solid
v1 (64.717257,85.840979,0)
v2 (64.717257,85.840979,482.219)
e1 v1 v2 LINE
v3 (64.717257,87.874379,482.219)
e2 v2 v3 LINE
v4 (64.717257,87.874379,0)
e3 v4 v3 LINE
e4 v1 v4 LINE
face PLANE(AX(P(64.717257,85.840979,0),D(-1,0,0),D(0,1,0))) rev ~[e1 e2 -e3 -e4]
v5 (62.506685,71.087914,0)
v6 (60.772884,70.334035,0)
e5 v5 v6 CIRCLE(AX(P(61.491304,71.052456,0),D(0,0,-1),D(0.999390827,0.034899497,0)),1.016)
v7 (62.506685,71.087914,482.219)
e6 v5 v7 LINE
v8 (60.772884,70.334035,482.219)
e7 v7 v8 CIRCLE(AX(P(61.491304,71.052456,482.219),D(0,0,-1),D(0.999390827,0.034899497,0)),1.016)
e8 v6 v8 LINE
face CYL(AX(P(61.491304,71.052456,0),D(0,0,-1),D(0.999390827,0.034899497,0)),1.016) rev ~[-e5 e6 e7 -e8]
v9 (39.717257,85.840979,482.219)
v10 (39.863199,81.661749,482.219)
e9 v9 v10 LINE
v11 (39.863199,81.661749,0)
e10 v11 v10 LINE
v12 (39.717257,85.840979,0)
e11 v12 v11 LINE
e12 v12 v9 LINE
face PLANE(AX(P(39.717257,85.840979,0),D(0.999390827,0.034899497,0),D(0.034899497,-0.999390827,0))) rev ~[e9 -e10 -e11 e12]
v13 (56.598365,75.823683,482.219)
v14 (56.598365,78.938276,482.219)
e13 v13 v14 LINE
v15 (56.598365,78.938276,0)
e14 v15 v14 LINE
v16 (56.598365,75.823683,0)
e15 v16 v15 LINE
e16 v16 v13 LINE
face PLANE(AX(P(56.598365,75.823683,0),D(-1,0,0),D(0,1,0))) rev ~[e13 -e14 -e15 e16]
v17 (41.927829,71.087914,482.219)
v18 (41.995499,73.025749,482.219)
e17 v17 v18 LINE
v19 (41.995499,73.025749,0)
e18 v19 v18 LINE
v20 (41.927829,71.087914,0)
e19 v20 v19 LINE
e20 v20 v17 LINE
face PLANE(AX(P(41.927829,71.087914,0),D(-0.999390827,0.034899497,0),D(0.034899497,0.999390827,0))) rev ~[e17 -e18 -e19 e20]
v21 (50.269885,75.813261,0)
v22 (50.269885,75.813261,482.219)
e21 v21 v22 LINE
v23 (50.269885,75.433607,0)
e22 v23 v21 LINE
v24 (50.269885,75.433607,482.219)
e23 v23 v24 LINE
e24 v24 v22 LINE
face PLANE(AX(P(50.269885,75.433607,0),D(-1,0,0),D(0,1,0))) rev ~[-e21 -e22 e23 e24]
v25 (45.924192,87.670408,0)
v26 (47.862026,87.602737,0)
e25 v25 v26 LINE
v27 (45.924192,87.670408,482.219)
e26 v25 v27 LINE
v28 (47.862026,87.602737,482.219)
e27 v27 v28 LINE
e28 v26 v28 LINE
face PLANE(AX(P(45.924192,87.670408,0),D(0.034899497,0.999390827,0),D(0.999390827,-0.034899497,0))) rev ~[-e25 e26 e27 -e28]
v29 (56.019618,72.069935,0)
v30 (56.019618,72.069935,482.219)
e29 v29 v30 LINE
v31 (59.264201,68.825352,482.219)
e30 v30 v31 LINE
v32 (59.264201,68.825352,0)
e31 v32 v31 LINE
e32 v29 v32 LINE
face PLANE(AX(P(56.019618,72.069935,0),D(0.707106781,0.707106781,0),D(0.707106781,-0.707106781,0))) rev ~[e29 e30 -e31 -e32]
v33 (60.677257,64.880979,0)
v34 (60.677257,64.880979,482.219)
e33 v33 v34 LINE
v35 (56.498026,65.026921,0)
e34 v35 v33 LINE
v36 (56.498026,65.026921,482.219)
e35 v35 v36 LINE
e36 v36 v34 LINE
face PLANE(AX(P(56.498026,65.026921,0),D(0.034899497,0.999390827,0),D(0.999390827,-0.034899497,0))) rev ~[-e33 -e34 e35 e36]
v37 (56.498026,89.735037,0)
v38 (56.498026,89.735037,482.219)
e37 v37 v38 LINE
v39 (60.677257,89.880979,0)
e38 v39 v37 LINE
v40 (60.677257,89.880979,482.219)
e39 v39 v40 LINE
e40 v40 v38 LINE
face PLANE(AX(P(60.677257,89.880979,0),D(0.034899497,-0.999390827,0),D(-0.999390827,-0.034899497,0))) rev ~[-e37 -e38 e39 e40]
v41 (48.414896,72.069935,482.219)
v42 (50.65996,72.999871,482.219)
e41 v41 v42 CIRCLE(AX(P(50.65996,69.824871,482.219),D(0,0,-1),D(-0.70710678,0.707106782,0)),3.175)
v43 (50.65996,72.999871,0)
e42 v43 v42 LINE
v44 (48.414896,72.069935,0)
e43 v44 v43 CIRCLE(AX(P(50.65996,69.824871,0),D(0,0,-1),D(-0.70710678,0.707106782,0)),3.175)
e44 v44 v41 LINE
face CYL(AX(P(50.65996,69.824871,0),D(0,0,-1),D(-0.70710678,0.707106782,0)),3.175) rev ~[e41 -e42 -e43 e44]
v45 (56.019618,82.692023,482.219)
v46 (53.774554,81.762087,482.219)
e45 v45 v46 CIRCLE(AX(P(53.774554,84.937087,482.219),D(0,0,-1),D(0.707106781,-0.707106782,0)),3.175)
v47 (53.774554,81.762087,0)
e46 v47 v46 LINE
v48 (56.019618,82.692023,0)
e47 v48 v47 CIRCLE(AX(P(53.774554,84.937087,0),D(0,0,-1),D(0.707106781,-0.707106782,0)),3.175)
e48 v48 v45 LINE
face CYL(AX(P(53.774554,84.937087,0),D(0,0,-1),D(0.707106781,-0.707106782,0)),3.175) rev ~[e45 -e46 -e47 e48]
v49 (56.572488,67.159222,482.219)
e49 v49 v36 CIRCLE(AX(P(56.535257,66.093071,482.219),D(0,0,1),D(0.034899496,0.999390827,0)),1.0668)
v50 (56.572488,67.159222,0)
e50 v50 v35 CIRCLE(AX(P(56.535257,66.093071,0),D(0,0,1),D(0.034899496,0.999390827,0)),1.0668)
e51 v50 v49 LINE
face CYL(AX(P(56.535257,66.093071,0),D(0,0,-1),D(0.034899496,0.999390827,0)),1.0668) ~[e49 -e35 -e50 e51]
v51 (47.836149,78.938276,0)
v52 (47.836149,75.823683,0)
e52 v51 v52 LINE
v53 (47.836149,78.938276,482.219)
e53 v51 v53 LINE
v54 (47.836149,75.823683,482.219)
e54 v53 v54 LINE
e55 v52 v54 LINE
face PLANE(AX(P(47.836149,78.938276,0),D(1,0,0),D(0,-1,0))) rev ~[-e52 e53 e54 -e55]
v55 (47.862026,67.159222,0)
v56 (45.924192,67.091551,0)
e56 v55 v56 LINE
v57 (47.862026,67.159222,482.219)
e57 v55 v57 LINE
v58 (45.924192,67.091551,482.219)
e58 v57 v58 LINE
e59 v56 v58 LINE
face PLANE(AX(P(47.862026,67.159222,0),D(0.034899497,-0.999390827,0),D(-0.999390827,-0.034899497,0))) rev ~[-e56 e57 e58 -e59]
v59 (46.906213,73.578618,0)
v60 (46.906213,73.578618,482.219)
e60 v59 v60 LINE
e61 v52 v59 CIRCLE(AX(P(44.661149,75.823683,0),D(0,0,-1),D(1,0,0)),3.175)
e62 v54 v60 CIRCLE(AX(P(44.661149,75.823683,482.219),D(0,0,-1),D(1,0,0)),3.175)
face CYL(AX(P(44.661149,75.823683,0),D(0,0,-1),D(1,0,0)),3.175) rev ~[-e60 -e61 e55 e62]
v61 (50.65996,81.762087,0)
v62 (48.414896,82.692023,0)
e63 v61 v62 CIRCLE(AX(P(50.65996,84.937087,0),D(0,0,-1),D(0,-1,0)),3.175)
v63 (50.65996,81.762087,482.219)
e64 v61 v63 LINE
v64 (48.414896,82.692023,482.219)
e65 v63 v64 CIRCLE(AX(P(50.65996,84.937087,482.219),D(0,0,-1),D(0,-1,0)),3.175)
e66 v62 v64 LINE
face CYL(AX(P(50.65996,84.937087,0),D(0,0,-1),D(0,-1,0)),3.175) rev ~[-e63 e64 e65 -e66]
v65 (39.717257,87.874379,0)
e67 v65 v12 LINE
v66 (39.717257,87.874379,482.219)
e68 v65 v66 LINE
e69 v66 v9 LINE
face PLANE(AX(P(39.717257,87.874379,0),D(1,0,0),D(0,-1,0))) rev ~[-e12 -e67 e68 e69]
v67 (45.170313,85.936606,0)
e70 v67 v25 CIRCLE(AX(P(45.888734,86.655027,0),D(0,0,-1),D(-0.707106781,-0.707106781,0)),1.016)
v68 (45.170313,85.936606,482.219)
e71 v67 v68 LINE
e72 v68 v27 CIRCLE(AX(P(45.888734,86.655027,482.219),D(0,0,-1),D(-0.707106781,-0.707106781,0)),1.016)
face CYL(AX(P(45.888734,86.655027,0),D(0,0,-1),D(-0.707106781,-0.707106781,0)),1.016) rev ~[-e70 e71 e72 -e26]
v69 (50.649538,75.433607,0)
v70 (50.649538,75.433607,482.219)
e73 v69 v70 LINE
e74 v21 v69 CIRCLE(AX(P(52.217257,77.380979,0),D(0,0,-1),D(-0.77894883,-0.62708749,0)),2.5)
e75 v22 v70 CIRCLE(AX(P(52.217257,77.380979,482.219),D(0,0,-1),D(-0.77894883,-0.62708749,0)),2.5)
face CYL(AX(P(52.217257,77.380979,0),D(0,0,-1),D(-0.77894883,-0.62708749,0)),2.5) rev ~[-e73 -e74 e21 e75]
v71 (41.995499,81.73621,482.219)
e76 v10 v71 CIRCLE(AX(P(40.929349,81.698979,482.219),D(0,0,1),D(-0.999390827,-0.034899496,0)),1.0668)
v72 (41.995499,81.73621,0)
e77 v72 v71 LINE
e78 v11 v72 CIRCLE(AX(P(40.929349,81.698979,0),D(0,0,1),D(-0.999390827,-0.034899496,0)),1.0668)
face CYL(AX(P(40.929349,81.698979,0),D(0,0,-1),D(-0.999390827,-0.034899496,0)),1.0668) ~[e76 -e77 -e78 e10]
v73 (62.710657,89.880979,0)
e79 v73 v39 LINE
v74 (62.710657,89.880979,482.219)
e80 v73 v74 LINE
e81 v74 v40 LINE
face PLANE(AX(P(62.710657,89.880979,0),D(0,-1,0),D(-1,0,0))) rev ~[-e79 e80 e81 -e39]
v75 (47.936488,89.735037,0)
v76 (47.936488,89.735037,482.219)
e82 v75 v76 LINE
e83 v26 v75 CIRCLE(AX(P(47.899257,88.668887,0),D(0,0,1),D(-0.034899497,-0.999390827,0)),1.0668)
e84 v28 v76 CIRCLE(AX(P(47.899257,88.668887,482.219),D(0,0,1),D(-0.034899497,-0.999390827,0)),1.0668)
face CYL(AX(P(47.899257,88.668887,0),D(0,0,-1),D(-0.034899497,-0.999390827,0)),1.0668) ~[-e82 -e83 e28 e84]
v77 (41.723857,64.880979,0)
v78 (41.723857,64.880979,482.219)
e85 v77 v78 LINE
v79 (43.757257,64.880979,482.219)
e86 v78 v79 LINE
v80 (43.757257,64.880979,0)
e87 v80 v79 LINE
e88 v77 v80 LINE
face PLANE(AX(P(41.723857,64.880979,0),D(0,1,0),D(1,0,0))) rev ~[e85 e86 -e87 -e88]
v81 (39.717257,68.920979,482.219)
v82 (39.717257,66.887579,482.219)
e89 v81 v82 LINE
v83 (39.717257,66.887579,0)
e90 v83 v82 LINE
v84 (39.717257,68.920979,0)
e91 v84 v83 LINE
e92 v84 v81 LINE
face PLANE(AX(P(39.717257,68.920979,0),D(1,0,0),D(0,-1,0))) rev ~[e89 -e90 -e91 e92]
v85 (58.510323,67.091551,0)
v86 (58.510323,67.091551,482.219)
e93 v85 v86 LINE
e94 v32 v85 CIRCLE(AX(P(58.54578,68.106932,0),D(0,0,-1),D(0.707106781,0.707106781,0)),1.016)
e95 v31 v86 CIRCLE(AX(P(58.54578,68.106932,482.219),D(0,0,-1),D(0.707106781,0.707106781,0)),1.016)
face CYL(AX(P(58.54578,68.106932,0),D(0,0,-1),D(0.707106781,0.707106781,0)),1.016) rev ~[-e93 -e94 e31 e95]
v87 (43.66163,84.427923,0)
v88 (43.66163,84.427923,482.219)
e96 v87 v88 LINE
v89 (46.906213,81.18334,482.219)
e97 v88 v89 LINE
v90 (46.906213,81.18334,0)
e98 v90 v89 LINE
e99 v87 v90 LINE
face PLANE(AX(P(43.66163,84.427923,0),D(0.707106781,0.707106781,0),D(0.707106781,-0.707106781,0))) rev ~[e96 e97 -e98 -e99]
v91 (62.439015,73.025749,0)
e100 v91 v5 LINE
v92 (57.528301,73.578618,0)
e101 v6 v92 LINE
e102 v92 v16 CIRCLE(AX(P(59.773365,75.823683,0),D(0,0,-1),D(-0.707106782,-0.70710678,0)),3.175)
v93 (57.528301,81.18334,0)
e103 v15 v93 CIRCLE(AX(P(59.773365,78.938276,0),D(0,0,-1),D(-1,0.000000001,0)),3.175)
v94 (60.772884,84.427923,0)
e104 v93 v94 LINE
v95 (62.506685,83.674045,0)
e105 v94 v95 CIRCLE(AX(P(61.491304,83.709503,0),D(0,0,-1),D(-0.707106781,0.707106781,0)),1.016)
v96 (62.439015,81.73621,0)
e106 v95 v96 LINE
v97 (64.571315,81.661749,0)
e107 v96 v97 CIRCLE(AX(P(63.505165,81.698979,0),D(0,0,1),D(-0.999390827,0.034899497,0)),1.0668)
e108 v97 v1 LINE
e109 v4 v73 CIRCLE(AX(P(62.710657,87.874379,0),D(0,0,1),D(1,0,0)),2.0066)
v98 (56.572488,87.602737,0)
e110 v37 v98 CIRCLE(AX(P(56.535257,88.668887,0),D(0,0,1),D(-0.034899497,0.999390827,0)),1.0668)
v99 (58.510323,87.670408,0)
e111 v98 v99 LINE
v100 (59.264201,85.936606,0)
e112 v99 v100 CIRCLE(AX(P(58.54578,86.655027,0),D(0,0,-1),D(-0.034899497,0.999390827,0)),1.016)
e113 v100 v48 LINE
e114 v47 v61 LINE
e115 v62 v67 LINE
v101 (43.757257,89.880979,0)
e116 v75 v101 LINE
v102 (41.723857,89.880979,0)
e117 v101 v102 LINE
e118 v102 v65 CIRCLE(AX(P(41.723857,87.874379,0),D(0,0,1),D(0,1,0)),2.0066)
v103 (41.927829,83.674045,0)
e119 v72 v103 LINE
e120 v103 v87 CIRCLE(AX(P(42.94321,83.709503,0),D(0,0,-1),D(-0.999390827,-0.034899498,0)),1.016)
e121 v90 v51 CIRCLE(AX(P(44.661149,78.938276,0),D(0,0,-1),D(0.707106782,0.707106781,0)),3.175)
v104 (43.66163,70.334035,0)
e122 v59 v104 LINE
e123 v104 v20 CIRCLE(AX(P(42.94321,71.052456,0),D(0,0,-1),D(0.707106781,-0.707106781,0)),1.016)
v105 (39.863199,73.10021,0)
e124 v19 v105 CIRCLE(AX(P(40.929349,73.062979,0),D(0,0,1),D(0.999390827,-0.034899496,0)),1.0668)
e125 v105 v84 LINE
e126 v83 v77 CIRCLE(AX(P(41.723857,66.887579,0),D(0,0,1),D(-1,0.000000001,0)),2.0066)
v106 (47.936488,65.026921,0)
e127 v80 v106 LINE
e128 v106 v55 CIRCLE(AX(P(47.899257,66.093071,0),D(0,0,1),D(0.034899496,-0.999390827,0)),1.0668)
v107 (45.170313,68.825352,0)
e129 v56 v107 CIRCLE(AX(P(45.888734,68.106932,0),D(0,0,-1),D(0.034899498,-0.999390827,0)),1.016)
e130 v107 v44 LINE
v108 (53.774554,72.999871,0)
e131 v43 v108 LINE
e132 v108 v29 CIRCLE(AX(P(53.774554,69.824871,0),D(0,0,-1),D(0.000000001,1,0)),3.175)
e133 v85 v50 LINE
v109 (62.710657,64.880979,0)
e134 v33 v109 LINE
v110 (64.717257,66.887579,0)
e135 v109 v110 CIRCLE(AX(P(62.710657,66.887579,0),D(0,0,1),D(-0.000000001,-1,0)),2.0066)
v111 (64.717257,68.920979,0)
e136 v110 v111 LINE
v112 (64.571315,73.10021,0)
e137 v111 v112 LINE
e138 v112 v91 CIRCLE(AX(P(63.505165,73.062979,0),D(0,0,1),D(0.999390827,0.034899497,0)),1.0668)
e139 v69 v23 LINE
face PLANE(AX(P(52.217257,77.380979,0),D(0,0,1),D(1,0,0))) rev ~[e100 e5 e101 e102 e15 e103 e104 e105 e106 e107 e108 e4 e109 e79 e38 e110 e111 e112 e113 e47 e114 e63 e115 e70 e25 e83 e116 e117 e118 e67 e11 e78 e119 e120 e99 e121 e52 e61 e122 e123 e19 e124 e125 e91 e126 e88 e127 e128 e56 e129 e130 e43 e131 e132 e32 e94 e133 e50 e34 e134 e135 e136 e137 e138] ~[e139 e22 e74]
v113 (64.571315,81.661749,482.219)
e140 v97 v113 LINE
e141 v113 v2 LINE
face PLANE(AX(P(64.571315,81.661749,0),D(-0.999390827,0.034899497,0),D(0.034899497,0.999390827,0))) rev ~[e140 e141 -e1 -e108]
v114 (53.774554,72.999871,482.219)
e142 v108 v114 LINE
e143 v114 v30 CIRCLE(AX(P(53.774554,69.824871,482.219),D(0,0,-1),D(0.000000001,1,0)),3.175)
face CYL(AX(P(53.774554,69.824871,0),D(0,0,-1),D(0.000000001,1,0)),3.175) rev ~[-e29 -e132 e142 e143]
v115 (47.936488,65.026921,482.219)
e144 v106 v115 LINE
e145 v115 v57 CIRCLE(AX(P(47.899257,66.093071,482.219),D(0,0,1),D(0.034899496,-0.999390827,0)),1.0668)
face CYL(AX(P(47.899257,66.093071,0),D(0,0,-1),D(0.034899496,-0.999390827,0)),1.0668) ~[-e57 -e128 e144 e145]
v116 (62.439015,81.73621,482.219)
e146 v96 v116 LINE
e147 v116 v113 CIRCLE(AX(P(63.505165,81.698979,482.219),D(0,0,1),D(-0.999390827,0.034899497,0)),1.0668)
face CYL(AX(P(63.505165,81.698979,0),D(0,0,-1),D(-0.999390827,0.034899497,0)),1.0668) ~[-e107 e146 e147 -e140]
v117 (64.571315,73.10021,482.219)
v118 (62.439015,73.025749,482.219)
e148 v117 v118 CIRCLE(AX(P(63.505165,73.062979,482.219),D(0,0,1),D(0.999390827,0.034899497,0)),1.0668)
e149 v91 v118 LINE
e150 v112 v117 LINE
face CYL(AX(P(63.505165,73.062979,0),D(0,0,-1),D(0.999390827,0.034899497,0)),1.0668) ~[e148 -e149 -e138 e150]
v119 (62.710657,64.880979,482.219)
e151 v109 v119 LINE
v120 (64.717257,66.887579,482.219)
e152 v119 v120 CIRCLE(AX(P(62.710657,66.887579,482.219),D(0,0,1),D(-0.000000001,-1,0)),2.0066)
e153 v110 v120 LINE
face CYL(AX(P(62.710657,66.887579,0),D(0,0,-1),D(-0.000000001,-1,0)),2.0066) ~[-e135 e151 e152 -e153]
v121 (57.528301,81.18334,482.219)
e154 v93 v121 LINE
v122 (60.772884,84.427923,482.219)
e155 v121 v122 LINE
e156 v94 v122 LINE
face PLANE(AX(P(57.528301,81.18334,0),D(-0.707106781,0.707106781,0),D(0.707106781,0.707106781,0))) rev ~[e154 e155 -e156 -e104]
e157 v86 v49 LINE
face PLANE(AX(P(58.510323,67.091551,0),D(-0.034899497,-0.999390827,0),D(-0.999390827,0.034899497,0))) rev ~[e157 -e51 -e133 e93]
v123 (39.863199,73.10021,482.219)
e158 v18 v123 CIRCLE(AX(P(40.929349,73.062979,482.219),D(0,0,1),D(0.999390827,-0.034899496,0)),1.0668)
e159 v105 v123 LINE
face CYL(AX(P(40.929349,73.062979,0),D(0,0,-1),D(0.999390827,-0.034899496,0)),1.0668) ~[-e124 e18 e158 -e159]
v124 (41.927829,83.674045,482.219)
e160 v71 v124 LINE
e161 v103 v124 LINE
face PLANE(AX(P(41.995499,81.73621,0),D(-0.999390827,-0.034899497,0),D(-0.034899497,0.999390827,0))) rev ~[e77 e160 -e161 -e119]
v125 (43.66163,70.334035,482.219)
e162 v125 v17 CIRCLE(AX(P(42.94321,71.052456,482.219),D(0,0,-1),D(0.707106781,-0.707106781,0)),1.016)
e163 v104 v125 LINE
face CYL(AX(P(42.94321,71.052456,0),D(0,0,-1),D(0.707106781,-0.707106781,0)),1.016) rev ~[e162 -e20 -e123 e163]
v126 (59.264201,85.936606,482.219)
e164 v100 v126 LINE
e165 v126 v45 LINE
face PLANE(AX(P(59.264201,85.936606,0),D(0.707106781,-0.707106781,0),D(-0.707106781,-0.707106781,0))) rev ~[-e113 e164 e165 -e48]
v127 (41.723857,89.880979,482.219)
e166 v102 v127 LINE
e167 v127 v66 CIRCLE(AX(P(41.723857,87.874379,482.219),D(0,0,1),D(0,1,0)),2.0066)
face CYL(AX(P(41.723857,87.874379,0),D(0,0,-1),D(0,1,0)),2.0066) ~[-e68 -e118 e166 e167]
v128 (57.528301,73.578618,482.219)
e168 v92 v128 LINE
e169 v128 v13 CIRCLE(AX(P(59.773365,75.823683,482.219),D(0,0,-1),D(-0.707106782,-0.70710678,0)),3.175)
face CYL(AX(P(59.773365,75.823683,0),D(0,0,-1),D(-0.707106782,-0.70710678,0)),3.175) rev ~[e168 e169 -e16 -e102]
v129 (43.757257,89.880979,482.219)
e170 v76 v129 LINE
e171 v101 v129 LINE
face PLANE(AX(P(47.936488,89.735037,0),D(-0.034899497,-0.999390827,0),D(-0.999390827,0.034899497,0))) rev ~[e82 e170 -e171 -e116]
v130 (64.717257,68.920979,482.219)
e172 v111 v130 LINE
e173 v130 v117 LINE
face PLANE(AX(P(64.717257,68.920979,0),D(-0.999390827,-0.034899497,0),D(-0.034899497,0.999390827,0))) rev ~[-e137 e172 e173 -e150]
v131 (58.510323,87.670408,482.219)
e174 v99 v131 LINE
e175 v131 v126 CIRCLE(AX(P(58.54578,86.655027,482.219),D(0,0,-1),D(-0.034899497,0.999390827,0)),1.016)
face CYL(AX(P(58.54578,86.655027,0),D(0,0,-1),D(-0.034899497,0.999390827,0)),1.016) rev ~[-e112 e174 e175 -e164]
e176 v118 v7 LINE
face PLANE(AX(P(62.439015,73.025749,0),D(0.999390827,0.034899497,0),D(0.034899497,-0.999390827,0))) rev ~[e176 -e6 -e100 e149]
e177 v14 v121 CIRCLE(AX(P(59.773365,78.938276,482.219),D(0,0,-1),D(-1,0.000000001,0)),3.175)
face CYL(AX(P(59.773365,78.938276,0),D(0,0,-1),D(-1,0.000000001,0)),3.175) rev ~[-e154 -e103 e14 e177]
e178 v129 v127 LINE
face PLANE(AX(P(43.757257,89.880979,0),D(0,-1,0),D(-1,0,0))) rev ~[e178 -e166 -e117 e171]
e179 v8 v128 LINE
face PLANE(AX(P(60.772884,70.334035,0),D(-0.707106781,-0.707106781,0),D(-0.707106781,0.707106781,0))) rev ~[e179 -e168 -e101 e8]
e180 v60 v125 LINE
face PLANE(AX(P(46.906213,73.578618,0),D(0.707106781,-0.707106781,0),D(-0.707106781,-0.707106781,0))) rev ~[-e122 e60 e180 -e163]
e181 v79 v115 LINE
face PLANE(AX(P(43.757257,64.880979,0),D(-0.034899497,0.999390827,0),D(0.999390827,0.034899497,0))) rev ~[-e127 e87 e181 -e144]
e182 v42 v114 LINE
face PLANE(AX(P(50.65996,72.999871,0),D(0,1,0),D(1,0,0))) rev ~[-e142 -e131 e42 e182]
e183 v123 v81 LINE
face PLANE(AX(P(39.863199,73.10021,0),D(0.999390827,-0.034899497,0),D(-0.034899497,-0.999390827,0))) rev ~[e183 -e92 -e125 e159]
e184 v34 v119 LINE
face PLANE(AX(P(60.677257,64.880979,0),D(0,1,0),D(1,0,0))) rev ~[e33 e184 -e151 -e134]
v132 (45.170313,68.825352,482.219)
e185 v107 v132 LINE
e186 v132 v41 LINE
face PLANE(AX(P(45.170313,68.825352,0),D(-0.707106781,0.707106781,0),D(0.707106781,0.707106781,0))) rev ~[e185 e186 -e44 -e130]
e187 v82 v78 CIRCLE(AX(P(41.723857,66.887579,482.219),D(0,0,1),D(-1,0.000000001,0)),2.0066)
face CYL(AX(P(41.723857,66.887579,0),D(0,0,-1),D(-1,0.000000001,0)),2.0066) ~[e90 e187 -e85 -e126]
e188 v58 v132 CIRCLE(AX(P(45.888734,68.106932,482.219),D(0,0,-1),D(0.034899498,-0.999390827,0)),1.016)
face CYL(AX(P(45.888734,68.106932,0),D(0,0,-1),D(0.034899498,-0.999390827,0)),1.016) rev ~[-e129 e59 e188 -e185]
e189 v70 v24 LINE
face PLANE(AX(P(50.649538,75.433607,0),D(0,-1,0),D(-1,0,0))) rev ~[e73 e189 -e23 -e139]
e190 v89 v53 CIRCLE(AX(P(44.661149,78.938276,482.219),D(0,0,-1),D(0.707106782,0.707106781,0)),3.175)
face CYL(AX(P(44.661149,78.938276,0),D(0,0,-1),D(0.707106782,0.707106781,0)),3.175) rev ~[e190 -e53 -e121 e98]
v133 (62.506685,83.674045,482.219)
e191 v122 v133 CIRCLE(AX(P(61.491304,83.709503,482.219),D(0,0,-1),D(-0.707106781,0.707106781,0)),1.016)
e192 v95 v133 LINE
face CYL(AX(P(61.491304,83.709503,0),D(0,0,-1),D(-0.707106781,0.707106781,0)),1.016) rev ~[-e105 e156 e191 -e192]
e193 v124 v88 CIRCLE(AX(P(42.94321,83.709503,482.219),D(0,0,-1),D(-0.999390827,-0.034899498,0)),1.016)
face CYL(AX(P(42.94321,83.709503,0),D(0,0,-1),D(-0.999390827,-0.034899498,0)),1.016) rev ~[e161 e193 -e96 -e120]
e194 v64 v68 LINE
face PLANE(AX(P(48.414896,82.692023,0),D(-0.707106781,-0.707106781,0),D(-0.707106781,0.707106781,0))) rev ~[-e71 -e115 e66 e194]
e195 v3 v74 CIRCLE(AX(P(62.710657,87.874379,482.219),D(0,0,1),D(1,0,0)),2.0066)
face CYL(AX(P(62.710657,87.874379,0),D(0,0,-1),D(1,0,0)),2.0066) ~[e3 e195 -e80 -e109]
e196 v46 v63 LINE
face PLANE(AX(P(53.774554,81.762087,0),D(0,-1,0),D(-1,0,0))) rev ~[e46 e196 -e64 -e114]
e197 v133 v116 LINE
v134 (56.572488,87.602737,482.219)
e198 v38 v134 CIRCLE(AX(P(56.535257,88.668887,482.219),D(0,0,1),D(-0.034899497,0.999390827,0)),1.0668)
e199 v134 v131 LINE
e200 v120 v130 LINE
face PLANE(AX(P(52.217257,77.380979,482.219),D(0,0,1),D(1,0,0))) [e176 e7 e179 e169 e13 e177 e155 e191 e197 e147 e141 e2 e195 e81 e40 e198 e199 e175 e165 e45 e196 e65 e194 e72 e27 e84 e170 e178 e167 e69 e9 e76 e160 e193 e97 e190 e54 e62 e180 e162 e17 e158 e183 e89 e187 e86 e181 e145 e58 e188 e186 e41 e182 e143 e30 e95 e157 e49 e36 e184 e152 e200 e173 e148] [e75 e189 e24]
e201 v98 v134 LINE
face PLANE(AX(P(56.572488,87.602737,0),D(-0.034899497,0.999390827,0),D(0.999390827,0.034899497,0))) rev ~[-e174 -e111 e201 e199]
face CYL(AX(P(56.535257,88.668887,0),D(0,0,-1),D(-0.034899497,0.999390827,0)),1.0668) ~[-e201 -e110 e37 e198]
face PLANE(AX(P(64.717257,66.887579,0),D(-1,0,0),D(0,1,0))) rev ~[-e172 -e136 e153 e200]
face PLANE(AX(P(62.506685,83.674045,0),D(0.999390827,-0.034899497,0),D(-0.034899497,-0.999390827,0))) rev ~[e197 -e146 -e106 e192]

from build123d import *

# Parameters (mm, degrees)
BOSS_EXTRUDE1_DEPTH = 482.219


with BuildPart() as part:
    # Model → Boss-Extrude1 (new body)
    with BuildSketch(Plane.XY):
        with BuildLine():
            Line((50.659960212, 72.999871414), (53.774553856, 72.999871414))
            ThreePointArc((53.774553856, 72.999871414), (54.989573754, 72.758188929), (56.019617887, 72.069935444))
            Line((56.019617887, 72.069935444), (59.264200891, 68.825352439))
            ThreePointArc((59.264200891, 68.825352439), (59.477513437, 67.701802895), (58.510322513, 67.091550869))
            Line((58.510322513, 67.091550869), (56.572487817, 67.159221548))
            ThreePointArc((56.572487817, 67.159221548), (55.4691069, 66.130302197), (56.498026251, 65.026921279))
            Line((56.498026251, 65.026921279), (60.677257034, 64.880979325))
            Line((60.677257034, 64.880979325), (62.710657034, 64.880979325))
            ThreePointArc((62.710657034, 64.880979325), (64.129537501, 65.468698857), (64.717257034, 66.887579325))
            Line((64.717257034, 66.887579325), (64.717257034, 68.920979325))
            Line((64.717257034, 68.920979325), (64.57131508, 73.100210108))
            ThreePointArc((64.57131508, 73.100210108), (63.467934162, 74.129129459), (62.439014811, 73.025748542))
            Line((62.439014811, 73.025748542), (62.50668549, 71.087913846))
            ThreePointArc((62.50668549, 71.087913846), (61.896433464, 70.120722922), (60.77288392, 70.334035468))
            Line((60.77288392, 70.334035468), (57.528300915, 73.578618472))
            ThreePointArc((57.528300915, 73.578618472), (56.84004743, 74.608662605), (56.598364945, 75.823682503))
            Line((56.598364945, 75.823682503), (56.598364945, 78.938276147))
            ThreePointArc((56.598364945, 78.938276147), (56.84004743, 80.153296044), (57.528300915, 81.183340177))
            Line((57.528300915, 81.183340177), (60.77288392, 84.427923182))
            ThreePointArc((60.77288392, 84.427923182), (61.896433464, 84.641235728), (62.50668549, 83.674044803))
            Line((62.50668549, 83.674044803), (62.439014811, 81.736210108))
            ThreePointArc((62.439014811, 81.736210108), (63.467934162, 80.63282919), (64.57131508, 81.661748542))
            Line((64.57131508, 81.661748542), (64.717257034, 85.840979325))
            Line((64.717257034, 85.840979325), (64.717257034, 87.874379325))
            ThreePointArc((64.717257034, 87.874379325), (64.129537501, 89.293259792), (62.710657034, 89.880979325))
            Line((62.710657034, 89.880979325), (60.677257034, 89.880979325))
            Line((60.677257034, 89.880979325), (56.498026251, 89.73503737))
            ThreePointArc((56.498026251, 89.73503737), (55.4691069, 88.631656452), (56.572487817, 87.602737101))
            Line((56.572487817, 87.602737101), (58.510322513, 87.67040778))
            ThreePointArc((58.510322513, 87.67040778), (59.477513437, 87.060155754), (59.264200891, 85.93660621))
            Line((59.264200891, 85.93660621), (56.019617887, 82.692023205))
            ThreePointArc((56.019617887, 82.692023205), (54.989573754, 82.00376972), (53.774553856, 81.762087236))
            Line((53.774553856, 81.762087236), (50.659960212, 81.762087236))
            ThreePointArc((50.659960212, 81.762087236), (49.444940315, 82.00376972), (48.414896182, 82.692023205))
            Line((48.414896182, 82.692023205), (45.170313177, 85.93660621))
            ThreePointArc((45.170313177, 85.93660621), (44.957000631, 87.060155754), (45.924191556, 87.67040778))
            Line((45.924191556, 87.67040778), (47.862026251, 87.602737101))
            ThreePointArc((47.862026251, 87.602737101), (48.965407169, 88.631656452), (47.936487817, 89.73503737))
            Line((47.936487817, 89.73503737), (43.757257034, 89.880979325))
            Line((43.757257034, 89.880979325), (41.723857034, 89.880979325))
            ThreePointArc((41.723857034, 89.880979325), (40.304976567, 89.293259792), (39.717257034, 87.874379325))
            Line((39.717257034, 87.874379325), (39.717257034, 85.840979325))
            Line((39.717257034, 85.840979325), (39.863198989, 81.661748542))
            ThreePointArc((39.863198989, 81.661748542), (40.966579907, 80.63282919), (41.995499258, 81.736210108))
            Line((41.995499258, 81.736210108), (41.927828579, 83.674044803))
            ThreePointArc((41.927828579, 83.674044803), (42.538080605, 84.641235728), (43.661630149, 84.427923182))
            Line((43.661630149, 84.427923182), (46.906213154, 81.183340177))
            ThreePointArc((46.906213154, 81.183340177), (47.594466639, 80.153296044), (47.836149123, 78.938276147))
            Line((47.836149123, 78.938276147), (47.836149123, 75.823682503))
            ThreePointArc((47.836149123, 75.823682503), (47.594466639, 74.608662605), (46.906213154, 73.578618472))
            Line((46.906213154, 73.578618472), (43.661630149, 70.334035468))
            ThreePointArc((43.661630149, 70.334035468), (42.538080605, 70.120722922), (41.927828579, 71.087913846))
            Line((41.927828579, 71.087913846), (41.995499258, 73.025748542))
            ThreePointArc((41.995499258, 73.025748542), (40.966579907, 74.129129459), (39.863198989, 73.100210108))
            Line((39.863198989, 73.100210108), (39.717257034, 68.920979325))
            Line((39.717257034, 68.920979325), (39.717257034, 66.887579325))
            ThreePointArc((39.717257034, 66.887579325), (40.304976567, 65.468698857), (41.723857034, 64.880979325))
            Line((41.723857034, 64.880979325), (43.757257034, 64.880979325))
            Line((43.757257034, 64.880979325), (47.936487817, 65.026921279))
            ThreePointArc((47.936487817, 65.026921279), (48.965407169, 66.130302197), (47.862026251, 67.159221548))
            Line((47.862026251, 67.159221548), (45.924191556, 67.091550869))
            ThreePointArc((45.924191556, 67.091550869), (44.957000631, 67.701802895), (45.170313177, 68.825352439))
            Line((45.170313177, 68.825352439), (48.414896182, 72.069935444))
            ThreePointArc((48.414896182, 72.069935444), (49.444940315, 72.758188929), (50.659960212, 72.999871414))
        make_face()
        with BuildLine():
            Line((50.64953831, 75.433607249), (50.269884959, 75.433607249))
            Line((50.269884959, 75.433607249), (50.269884959, 75.8132606))
            ThreePointArc((50.269884959, 75.8132606), (53.985023987, 79.148746278), (50.64953831, 75.433607249))
        make_face(mode=Mode.SUBTRACT)
    extrude(amount=BOSS_EXTRUDE1_DEPTH)


solid = part.part
